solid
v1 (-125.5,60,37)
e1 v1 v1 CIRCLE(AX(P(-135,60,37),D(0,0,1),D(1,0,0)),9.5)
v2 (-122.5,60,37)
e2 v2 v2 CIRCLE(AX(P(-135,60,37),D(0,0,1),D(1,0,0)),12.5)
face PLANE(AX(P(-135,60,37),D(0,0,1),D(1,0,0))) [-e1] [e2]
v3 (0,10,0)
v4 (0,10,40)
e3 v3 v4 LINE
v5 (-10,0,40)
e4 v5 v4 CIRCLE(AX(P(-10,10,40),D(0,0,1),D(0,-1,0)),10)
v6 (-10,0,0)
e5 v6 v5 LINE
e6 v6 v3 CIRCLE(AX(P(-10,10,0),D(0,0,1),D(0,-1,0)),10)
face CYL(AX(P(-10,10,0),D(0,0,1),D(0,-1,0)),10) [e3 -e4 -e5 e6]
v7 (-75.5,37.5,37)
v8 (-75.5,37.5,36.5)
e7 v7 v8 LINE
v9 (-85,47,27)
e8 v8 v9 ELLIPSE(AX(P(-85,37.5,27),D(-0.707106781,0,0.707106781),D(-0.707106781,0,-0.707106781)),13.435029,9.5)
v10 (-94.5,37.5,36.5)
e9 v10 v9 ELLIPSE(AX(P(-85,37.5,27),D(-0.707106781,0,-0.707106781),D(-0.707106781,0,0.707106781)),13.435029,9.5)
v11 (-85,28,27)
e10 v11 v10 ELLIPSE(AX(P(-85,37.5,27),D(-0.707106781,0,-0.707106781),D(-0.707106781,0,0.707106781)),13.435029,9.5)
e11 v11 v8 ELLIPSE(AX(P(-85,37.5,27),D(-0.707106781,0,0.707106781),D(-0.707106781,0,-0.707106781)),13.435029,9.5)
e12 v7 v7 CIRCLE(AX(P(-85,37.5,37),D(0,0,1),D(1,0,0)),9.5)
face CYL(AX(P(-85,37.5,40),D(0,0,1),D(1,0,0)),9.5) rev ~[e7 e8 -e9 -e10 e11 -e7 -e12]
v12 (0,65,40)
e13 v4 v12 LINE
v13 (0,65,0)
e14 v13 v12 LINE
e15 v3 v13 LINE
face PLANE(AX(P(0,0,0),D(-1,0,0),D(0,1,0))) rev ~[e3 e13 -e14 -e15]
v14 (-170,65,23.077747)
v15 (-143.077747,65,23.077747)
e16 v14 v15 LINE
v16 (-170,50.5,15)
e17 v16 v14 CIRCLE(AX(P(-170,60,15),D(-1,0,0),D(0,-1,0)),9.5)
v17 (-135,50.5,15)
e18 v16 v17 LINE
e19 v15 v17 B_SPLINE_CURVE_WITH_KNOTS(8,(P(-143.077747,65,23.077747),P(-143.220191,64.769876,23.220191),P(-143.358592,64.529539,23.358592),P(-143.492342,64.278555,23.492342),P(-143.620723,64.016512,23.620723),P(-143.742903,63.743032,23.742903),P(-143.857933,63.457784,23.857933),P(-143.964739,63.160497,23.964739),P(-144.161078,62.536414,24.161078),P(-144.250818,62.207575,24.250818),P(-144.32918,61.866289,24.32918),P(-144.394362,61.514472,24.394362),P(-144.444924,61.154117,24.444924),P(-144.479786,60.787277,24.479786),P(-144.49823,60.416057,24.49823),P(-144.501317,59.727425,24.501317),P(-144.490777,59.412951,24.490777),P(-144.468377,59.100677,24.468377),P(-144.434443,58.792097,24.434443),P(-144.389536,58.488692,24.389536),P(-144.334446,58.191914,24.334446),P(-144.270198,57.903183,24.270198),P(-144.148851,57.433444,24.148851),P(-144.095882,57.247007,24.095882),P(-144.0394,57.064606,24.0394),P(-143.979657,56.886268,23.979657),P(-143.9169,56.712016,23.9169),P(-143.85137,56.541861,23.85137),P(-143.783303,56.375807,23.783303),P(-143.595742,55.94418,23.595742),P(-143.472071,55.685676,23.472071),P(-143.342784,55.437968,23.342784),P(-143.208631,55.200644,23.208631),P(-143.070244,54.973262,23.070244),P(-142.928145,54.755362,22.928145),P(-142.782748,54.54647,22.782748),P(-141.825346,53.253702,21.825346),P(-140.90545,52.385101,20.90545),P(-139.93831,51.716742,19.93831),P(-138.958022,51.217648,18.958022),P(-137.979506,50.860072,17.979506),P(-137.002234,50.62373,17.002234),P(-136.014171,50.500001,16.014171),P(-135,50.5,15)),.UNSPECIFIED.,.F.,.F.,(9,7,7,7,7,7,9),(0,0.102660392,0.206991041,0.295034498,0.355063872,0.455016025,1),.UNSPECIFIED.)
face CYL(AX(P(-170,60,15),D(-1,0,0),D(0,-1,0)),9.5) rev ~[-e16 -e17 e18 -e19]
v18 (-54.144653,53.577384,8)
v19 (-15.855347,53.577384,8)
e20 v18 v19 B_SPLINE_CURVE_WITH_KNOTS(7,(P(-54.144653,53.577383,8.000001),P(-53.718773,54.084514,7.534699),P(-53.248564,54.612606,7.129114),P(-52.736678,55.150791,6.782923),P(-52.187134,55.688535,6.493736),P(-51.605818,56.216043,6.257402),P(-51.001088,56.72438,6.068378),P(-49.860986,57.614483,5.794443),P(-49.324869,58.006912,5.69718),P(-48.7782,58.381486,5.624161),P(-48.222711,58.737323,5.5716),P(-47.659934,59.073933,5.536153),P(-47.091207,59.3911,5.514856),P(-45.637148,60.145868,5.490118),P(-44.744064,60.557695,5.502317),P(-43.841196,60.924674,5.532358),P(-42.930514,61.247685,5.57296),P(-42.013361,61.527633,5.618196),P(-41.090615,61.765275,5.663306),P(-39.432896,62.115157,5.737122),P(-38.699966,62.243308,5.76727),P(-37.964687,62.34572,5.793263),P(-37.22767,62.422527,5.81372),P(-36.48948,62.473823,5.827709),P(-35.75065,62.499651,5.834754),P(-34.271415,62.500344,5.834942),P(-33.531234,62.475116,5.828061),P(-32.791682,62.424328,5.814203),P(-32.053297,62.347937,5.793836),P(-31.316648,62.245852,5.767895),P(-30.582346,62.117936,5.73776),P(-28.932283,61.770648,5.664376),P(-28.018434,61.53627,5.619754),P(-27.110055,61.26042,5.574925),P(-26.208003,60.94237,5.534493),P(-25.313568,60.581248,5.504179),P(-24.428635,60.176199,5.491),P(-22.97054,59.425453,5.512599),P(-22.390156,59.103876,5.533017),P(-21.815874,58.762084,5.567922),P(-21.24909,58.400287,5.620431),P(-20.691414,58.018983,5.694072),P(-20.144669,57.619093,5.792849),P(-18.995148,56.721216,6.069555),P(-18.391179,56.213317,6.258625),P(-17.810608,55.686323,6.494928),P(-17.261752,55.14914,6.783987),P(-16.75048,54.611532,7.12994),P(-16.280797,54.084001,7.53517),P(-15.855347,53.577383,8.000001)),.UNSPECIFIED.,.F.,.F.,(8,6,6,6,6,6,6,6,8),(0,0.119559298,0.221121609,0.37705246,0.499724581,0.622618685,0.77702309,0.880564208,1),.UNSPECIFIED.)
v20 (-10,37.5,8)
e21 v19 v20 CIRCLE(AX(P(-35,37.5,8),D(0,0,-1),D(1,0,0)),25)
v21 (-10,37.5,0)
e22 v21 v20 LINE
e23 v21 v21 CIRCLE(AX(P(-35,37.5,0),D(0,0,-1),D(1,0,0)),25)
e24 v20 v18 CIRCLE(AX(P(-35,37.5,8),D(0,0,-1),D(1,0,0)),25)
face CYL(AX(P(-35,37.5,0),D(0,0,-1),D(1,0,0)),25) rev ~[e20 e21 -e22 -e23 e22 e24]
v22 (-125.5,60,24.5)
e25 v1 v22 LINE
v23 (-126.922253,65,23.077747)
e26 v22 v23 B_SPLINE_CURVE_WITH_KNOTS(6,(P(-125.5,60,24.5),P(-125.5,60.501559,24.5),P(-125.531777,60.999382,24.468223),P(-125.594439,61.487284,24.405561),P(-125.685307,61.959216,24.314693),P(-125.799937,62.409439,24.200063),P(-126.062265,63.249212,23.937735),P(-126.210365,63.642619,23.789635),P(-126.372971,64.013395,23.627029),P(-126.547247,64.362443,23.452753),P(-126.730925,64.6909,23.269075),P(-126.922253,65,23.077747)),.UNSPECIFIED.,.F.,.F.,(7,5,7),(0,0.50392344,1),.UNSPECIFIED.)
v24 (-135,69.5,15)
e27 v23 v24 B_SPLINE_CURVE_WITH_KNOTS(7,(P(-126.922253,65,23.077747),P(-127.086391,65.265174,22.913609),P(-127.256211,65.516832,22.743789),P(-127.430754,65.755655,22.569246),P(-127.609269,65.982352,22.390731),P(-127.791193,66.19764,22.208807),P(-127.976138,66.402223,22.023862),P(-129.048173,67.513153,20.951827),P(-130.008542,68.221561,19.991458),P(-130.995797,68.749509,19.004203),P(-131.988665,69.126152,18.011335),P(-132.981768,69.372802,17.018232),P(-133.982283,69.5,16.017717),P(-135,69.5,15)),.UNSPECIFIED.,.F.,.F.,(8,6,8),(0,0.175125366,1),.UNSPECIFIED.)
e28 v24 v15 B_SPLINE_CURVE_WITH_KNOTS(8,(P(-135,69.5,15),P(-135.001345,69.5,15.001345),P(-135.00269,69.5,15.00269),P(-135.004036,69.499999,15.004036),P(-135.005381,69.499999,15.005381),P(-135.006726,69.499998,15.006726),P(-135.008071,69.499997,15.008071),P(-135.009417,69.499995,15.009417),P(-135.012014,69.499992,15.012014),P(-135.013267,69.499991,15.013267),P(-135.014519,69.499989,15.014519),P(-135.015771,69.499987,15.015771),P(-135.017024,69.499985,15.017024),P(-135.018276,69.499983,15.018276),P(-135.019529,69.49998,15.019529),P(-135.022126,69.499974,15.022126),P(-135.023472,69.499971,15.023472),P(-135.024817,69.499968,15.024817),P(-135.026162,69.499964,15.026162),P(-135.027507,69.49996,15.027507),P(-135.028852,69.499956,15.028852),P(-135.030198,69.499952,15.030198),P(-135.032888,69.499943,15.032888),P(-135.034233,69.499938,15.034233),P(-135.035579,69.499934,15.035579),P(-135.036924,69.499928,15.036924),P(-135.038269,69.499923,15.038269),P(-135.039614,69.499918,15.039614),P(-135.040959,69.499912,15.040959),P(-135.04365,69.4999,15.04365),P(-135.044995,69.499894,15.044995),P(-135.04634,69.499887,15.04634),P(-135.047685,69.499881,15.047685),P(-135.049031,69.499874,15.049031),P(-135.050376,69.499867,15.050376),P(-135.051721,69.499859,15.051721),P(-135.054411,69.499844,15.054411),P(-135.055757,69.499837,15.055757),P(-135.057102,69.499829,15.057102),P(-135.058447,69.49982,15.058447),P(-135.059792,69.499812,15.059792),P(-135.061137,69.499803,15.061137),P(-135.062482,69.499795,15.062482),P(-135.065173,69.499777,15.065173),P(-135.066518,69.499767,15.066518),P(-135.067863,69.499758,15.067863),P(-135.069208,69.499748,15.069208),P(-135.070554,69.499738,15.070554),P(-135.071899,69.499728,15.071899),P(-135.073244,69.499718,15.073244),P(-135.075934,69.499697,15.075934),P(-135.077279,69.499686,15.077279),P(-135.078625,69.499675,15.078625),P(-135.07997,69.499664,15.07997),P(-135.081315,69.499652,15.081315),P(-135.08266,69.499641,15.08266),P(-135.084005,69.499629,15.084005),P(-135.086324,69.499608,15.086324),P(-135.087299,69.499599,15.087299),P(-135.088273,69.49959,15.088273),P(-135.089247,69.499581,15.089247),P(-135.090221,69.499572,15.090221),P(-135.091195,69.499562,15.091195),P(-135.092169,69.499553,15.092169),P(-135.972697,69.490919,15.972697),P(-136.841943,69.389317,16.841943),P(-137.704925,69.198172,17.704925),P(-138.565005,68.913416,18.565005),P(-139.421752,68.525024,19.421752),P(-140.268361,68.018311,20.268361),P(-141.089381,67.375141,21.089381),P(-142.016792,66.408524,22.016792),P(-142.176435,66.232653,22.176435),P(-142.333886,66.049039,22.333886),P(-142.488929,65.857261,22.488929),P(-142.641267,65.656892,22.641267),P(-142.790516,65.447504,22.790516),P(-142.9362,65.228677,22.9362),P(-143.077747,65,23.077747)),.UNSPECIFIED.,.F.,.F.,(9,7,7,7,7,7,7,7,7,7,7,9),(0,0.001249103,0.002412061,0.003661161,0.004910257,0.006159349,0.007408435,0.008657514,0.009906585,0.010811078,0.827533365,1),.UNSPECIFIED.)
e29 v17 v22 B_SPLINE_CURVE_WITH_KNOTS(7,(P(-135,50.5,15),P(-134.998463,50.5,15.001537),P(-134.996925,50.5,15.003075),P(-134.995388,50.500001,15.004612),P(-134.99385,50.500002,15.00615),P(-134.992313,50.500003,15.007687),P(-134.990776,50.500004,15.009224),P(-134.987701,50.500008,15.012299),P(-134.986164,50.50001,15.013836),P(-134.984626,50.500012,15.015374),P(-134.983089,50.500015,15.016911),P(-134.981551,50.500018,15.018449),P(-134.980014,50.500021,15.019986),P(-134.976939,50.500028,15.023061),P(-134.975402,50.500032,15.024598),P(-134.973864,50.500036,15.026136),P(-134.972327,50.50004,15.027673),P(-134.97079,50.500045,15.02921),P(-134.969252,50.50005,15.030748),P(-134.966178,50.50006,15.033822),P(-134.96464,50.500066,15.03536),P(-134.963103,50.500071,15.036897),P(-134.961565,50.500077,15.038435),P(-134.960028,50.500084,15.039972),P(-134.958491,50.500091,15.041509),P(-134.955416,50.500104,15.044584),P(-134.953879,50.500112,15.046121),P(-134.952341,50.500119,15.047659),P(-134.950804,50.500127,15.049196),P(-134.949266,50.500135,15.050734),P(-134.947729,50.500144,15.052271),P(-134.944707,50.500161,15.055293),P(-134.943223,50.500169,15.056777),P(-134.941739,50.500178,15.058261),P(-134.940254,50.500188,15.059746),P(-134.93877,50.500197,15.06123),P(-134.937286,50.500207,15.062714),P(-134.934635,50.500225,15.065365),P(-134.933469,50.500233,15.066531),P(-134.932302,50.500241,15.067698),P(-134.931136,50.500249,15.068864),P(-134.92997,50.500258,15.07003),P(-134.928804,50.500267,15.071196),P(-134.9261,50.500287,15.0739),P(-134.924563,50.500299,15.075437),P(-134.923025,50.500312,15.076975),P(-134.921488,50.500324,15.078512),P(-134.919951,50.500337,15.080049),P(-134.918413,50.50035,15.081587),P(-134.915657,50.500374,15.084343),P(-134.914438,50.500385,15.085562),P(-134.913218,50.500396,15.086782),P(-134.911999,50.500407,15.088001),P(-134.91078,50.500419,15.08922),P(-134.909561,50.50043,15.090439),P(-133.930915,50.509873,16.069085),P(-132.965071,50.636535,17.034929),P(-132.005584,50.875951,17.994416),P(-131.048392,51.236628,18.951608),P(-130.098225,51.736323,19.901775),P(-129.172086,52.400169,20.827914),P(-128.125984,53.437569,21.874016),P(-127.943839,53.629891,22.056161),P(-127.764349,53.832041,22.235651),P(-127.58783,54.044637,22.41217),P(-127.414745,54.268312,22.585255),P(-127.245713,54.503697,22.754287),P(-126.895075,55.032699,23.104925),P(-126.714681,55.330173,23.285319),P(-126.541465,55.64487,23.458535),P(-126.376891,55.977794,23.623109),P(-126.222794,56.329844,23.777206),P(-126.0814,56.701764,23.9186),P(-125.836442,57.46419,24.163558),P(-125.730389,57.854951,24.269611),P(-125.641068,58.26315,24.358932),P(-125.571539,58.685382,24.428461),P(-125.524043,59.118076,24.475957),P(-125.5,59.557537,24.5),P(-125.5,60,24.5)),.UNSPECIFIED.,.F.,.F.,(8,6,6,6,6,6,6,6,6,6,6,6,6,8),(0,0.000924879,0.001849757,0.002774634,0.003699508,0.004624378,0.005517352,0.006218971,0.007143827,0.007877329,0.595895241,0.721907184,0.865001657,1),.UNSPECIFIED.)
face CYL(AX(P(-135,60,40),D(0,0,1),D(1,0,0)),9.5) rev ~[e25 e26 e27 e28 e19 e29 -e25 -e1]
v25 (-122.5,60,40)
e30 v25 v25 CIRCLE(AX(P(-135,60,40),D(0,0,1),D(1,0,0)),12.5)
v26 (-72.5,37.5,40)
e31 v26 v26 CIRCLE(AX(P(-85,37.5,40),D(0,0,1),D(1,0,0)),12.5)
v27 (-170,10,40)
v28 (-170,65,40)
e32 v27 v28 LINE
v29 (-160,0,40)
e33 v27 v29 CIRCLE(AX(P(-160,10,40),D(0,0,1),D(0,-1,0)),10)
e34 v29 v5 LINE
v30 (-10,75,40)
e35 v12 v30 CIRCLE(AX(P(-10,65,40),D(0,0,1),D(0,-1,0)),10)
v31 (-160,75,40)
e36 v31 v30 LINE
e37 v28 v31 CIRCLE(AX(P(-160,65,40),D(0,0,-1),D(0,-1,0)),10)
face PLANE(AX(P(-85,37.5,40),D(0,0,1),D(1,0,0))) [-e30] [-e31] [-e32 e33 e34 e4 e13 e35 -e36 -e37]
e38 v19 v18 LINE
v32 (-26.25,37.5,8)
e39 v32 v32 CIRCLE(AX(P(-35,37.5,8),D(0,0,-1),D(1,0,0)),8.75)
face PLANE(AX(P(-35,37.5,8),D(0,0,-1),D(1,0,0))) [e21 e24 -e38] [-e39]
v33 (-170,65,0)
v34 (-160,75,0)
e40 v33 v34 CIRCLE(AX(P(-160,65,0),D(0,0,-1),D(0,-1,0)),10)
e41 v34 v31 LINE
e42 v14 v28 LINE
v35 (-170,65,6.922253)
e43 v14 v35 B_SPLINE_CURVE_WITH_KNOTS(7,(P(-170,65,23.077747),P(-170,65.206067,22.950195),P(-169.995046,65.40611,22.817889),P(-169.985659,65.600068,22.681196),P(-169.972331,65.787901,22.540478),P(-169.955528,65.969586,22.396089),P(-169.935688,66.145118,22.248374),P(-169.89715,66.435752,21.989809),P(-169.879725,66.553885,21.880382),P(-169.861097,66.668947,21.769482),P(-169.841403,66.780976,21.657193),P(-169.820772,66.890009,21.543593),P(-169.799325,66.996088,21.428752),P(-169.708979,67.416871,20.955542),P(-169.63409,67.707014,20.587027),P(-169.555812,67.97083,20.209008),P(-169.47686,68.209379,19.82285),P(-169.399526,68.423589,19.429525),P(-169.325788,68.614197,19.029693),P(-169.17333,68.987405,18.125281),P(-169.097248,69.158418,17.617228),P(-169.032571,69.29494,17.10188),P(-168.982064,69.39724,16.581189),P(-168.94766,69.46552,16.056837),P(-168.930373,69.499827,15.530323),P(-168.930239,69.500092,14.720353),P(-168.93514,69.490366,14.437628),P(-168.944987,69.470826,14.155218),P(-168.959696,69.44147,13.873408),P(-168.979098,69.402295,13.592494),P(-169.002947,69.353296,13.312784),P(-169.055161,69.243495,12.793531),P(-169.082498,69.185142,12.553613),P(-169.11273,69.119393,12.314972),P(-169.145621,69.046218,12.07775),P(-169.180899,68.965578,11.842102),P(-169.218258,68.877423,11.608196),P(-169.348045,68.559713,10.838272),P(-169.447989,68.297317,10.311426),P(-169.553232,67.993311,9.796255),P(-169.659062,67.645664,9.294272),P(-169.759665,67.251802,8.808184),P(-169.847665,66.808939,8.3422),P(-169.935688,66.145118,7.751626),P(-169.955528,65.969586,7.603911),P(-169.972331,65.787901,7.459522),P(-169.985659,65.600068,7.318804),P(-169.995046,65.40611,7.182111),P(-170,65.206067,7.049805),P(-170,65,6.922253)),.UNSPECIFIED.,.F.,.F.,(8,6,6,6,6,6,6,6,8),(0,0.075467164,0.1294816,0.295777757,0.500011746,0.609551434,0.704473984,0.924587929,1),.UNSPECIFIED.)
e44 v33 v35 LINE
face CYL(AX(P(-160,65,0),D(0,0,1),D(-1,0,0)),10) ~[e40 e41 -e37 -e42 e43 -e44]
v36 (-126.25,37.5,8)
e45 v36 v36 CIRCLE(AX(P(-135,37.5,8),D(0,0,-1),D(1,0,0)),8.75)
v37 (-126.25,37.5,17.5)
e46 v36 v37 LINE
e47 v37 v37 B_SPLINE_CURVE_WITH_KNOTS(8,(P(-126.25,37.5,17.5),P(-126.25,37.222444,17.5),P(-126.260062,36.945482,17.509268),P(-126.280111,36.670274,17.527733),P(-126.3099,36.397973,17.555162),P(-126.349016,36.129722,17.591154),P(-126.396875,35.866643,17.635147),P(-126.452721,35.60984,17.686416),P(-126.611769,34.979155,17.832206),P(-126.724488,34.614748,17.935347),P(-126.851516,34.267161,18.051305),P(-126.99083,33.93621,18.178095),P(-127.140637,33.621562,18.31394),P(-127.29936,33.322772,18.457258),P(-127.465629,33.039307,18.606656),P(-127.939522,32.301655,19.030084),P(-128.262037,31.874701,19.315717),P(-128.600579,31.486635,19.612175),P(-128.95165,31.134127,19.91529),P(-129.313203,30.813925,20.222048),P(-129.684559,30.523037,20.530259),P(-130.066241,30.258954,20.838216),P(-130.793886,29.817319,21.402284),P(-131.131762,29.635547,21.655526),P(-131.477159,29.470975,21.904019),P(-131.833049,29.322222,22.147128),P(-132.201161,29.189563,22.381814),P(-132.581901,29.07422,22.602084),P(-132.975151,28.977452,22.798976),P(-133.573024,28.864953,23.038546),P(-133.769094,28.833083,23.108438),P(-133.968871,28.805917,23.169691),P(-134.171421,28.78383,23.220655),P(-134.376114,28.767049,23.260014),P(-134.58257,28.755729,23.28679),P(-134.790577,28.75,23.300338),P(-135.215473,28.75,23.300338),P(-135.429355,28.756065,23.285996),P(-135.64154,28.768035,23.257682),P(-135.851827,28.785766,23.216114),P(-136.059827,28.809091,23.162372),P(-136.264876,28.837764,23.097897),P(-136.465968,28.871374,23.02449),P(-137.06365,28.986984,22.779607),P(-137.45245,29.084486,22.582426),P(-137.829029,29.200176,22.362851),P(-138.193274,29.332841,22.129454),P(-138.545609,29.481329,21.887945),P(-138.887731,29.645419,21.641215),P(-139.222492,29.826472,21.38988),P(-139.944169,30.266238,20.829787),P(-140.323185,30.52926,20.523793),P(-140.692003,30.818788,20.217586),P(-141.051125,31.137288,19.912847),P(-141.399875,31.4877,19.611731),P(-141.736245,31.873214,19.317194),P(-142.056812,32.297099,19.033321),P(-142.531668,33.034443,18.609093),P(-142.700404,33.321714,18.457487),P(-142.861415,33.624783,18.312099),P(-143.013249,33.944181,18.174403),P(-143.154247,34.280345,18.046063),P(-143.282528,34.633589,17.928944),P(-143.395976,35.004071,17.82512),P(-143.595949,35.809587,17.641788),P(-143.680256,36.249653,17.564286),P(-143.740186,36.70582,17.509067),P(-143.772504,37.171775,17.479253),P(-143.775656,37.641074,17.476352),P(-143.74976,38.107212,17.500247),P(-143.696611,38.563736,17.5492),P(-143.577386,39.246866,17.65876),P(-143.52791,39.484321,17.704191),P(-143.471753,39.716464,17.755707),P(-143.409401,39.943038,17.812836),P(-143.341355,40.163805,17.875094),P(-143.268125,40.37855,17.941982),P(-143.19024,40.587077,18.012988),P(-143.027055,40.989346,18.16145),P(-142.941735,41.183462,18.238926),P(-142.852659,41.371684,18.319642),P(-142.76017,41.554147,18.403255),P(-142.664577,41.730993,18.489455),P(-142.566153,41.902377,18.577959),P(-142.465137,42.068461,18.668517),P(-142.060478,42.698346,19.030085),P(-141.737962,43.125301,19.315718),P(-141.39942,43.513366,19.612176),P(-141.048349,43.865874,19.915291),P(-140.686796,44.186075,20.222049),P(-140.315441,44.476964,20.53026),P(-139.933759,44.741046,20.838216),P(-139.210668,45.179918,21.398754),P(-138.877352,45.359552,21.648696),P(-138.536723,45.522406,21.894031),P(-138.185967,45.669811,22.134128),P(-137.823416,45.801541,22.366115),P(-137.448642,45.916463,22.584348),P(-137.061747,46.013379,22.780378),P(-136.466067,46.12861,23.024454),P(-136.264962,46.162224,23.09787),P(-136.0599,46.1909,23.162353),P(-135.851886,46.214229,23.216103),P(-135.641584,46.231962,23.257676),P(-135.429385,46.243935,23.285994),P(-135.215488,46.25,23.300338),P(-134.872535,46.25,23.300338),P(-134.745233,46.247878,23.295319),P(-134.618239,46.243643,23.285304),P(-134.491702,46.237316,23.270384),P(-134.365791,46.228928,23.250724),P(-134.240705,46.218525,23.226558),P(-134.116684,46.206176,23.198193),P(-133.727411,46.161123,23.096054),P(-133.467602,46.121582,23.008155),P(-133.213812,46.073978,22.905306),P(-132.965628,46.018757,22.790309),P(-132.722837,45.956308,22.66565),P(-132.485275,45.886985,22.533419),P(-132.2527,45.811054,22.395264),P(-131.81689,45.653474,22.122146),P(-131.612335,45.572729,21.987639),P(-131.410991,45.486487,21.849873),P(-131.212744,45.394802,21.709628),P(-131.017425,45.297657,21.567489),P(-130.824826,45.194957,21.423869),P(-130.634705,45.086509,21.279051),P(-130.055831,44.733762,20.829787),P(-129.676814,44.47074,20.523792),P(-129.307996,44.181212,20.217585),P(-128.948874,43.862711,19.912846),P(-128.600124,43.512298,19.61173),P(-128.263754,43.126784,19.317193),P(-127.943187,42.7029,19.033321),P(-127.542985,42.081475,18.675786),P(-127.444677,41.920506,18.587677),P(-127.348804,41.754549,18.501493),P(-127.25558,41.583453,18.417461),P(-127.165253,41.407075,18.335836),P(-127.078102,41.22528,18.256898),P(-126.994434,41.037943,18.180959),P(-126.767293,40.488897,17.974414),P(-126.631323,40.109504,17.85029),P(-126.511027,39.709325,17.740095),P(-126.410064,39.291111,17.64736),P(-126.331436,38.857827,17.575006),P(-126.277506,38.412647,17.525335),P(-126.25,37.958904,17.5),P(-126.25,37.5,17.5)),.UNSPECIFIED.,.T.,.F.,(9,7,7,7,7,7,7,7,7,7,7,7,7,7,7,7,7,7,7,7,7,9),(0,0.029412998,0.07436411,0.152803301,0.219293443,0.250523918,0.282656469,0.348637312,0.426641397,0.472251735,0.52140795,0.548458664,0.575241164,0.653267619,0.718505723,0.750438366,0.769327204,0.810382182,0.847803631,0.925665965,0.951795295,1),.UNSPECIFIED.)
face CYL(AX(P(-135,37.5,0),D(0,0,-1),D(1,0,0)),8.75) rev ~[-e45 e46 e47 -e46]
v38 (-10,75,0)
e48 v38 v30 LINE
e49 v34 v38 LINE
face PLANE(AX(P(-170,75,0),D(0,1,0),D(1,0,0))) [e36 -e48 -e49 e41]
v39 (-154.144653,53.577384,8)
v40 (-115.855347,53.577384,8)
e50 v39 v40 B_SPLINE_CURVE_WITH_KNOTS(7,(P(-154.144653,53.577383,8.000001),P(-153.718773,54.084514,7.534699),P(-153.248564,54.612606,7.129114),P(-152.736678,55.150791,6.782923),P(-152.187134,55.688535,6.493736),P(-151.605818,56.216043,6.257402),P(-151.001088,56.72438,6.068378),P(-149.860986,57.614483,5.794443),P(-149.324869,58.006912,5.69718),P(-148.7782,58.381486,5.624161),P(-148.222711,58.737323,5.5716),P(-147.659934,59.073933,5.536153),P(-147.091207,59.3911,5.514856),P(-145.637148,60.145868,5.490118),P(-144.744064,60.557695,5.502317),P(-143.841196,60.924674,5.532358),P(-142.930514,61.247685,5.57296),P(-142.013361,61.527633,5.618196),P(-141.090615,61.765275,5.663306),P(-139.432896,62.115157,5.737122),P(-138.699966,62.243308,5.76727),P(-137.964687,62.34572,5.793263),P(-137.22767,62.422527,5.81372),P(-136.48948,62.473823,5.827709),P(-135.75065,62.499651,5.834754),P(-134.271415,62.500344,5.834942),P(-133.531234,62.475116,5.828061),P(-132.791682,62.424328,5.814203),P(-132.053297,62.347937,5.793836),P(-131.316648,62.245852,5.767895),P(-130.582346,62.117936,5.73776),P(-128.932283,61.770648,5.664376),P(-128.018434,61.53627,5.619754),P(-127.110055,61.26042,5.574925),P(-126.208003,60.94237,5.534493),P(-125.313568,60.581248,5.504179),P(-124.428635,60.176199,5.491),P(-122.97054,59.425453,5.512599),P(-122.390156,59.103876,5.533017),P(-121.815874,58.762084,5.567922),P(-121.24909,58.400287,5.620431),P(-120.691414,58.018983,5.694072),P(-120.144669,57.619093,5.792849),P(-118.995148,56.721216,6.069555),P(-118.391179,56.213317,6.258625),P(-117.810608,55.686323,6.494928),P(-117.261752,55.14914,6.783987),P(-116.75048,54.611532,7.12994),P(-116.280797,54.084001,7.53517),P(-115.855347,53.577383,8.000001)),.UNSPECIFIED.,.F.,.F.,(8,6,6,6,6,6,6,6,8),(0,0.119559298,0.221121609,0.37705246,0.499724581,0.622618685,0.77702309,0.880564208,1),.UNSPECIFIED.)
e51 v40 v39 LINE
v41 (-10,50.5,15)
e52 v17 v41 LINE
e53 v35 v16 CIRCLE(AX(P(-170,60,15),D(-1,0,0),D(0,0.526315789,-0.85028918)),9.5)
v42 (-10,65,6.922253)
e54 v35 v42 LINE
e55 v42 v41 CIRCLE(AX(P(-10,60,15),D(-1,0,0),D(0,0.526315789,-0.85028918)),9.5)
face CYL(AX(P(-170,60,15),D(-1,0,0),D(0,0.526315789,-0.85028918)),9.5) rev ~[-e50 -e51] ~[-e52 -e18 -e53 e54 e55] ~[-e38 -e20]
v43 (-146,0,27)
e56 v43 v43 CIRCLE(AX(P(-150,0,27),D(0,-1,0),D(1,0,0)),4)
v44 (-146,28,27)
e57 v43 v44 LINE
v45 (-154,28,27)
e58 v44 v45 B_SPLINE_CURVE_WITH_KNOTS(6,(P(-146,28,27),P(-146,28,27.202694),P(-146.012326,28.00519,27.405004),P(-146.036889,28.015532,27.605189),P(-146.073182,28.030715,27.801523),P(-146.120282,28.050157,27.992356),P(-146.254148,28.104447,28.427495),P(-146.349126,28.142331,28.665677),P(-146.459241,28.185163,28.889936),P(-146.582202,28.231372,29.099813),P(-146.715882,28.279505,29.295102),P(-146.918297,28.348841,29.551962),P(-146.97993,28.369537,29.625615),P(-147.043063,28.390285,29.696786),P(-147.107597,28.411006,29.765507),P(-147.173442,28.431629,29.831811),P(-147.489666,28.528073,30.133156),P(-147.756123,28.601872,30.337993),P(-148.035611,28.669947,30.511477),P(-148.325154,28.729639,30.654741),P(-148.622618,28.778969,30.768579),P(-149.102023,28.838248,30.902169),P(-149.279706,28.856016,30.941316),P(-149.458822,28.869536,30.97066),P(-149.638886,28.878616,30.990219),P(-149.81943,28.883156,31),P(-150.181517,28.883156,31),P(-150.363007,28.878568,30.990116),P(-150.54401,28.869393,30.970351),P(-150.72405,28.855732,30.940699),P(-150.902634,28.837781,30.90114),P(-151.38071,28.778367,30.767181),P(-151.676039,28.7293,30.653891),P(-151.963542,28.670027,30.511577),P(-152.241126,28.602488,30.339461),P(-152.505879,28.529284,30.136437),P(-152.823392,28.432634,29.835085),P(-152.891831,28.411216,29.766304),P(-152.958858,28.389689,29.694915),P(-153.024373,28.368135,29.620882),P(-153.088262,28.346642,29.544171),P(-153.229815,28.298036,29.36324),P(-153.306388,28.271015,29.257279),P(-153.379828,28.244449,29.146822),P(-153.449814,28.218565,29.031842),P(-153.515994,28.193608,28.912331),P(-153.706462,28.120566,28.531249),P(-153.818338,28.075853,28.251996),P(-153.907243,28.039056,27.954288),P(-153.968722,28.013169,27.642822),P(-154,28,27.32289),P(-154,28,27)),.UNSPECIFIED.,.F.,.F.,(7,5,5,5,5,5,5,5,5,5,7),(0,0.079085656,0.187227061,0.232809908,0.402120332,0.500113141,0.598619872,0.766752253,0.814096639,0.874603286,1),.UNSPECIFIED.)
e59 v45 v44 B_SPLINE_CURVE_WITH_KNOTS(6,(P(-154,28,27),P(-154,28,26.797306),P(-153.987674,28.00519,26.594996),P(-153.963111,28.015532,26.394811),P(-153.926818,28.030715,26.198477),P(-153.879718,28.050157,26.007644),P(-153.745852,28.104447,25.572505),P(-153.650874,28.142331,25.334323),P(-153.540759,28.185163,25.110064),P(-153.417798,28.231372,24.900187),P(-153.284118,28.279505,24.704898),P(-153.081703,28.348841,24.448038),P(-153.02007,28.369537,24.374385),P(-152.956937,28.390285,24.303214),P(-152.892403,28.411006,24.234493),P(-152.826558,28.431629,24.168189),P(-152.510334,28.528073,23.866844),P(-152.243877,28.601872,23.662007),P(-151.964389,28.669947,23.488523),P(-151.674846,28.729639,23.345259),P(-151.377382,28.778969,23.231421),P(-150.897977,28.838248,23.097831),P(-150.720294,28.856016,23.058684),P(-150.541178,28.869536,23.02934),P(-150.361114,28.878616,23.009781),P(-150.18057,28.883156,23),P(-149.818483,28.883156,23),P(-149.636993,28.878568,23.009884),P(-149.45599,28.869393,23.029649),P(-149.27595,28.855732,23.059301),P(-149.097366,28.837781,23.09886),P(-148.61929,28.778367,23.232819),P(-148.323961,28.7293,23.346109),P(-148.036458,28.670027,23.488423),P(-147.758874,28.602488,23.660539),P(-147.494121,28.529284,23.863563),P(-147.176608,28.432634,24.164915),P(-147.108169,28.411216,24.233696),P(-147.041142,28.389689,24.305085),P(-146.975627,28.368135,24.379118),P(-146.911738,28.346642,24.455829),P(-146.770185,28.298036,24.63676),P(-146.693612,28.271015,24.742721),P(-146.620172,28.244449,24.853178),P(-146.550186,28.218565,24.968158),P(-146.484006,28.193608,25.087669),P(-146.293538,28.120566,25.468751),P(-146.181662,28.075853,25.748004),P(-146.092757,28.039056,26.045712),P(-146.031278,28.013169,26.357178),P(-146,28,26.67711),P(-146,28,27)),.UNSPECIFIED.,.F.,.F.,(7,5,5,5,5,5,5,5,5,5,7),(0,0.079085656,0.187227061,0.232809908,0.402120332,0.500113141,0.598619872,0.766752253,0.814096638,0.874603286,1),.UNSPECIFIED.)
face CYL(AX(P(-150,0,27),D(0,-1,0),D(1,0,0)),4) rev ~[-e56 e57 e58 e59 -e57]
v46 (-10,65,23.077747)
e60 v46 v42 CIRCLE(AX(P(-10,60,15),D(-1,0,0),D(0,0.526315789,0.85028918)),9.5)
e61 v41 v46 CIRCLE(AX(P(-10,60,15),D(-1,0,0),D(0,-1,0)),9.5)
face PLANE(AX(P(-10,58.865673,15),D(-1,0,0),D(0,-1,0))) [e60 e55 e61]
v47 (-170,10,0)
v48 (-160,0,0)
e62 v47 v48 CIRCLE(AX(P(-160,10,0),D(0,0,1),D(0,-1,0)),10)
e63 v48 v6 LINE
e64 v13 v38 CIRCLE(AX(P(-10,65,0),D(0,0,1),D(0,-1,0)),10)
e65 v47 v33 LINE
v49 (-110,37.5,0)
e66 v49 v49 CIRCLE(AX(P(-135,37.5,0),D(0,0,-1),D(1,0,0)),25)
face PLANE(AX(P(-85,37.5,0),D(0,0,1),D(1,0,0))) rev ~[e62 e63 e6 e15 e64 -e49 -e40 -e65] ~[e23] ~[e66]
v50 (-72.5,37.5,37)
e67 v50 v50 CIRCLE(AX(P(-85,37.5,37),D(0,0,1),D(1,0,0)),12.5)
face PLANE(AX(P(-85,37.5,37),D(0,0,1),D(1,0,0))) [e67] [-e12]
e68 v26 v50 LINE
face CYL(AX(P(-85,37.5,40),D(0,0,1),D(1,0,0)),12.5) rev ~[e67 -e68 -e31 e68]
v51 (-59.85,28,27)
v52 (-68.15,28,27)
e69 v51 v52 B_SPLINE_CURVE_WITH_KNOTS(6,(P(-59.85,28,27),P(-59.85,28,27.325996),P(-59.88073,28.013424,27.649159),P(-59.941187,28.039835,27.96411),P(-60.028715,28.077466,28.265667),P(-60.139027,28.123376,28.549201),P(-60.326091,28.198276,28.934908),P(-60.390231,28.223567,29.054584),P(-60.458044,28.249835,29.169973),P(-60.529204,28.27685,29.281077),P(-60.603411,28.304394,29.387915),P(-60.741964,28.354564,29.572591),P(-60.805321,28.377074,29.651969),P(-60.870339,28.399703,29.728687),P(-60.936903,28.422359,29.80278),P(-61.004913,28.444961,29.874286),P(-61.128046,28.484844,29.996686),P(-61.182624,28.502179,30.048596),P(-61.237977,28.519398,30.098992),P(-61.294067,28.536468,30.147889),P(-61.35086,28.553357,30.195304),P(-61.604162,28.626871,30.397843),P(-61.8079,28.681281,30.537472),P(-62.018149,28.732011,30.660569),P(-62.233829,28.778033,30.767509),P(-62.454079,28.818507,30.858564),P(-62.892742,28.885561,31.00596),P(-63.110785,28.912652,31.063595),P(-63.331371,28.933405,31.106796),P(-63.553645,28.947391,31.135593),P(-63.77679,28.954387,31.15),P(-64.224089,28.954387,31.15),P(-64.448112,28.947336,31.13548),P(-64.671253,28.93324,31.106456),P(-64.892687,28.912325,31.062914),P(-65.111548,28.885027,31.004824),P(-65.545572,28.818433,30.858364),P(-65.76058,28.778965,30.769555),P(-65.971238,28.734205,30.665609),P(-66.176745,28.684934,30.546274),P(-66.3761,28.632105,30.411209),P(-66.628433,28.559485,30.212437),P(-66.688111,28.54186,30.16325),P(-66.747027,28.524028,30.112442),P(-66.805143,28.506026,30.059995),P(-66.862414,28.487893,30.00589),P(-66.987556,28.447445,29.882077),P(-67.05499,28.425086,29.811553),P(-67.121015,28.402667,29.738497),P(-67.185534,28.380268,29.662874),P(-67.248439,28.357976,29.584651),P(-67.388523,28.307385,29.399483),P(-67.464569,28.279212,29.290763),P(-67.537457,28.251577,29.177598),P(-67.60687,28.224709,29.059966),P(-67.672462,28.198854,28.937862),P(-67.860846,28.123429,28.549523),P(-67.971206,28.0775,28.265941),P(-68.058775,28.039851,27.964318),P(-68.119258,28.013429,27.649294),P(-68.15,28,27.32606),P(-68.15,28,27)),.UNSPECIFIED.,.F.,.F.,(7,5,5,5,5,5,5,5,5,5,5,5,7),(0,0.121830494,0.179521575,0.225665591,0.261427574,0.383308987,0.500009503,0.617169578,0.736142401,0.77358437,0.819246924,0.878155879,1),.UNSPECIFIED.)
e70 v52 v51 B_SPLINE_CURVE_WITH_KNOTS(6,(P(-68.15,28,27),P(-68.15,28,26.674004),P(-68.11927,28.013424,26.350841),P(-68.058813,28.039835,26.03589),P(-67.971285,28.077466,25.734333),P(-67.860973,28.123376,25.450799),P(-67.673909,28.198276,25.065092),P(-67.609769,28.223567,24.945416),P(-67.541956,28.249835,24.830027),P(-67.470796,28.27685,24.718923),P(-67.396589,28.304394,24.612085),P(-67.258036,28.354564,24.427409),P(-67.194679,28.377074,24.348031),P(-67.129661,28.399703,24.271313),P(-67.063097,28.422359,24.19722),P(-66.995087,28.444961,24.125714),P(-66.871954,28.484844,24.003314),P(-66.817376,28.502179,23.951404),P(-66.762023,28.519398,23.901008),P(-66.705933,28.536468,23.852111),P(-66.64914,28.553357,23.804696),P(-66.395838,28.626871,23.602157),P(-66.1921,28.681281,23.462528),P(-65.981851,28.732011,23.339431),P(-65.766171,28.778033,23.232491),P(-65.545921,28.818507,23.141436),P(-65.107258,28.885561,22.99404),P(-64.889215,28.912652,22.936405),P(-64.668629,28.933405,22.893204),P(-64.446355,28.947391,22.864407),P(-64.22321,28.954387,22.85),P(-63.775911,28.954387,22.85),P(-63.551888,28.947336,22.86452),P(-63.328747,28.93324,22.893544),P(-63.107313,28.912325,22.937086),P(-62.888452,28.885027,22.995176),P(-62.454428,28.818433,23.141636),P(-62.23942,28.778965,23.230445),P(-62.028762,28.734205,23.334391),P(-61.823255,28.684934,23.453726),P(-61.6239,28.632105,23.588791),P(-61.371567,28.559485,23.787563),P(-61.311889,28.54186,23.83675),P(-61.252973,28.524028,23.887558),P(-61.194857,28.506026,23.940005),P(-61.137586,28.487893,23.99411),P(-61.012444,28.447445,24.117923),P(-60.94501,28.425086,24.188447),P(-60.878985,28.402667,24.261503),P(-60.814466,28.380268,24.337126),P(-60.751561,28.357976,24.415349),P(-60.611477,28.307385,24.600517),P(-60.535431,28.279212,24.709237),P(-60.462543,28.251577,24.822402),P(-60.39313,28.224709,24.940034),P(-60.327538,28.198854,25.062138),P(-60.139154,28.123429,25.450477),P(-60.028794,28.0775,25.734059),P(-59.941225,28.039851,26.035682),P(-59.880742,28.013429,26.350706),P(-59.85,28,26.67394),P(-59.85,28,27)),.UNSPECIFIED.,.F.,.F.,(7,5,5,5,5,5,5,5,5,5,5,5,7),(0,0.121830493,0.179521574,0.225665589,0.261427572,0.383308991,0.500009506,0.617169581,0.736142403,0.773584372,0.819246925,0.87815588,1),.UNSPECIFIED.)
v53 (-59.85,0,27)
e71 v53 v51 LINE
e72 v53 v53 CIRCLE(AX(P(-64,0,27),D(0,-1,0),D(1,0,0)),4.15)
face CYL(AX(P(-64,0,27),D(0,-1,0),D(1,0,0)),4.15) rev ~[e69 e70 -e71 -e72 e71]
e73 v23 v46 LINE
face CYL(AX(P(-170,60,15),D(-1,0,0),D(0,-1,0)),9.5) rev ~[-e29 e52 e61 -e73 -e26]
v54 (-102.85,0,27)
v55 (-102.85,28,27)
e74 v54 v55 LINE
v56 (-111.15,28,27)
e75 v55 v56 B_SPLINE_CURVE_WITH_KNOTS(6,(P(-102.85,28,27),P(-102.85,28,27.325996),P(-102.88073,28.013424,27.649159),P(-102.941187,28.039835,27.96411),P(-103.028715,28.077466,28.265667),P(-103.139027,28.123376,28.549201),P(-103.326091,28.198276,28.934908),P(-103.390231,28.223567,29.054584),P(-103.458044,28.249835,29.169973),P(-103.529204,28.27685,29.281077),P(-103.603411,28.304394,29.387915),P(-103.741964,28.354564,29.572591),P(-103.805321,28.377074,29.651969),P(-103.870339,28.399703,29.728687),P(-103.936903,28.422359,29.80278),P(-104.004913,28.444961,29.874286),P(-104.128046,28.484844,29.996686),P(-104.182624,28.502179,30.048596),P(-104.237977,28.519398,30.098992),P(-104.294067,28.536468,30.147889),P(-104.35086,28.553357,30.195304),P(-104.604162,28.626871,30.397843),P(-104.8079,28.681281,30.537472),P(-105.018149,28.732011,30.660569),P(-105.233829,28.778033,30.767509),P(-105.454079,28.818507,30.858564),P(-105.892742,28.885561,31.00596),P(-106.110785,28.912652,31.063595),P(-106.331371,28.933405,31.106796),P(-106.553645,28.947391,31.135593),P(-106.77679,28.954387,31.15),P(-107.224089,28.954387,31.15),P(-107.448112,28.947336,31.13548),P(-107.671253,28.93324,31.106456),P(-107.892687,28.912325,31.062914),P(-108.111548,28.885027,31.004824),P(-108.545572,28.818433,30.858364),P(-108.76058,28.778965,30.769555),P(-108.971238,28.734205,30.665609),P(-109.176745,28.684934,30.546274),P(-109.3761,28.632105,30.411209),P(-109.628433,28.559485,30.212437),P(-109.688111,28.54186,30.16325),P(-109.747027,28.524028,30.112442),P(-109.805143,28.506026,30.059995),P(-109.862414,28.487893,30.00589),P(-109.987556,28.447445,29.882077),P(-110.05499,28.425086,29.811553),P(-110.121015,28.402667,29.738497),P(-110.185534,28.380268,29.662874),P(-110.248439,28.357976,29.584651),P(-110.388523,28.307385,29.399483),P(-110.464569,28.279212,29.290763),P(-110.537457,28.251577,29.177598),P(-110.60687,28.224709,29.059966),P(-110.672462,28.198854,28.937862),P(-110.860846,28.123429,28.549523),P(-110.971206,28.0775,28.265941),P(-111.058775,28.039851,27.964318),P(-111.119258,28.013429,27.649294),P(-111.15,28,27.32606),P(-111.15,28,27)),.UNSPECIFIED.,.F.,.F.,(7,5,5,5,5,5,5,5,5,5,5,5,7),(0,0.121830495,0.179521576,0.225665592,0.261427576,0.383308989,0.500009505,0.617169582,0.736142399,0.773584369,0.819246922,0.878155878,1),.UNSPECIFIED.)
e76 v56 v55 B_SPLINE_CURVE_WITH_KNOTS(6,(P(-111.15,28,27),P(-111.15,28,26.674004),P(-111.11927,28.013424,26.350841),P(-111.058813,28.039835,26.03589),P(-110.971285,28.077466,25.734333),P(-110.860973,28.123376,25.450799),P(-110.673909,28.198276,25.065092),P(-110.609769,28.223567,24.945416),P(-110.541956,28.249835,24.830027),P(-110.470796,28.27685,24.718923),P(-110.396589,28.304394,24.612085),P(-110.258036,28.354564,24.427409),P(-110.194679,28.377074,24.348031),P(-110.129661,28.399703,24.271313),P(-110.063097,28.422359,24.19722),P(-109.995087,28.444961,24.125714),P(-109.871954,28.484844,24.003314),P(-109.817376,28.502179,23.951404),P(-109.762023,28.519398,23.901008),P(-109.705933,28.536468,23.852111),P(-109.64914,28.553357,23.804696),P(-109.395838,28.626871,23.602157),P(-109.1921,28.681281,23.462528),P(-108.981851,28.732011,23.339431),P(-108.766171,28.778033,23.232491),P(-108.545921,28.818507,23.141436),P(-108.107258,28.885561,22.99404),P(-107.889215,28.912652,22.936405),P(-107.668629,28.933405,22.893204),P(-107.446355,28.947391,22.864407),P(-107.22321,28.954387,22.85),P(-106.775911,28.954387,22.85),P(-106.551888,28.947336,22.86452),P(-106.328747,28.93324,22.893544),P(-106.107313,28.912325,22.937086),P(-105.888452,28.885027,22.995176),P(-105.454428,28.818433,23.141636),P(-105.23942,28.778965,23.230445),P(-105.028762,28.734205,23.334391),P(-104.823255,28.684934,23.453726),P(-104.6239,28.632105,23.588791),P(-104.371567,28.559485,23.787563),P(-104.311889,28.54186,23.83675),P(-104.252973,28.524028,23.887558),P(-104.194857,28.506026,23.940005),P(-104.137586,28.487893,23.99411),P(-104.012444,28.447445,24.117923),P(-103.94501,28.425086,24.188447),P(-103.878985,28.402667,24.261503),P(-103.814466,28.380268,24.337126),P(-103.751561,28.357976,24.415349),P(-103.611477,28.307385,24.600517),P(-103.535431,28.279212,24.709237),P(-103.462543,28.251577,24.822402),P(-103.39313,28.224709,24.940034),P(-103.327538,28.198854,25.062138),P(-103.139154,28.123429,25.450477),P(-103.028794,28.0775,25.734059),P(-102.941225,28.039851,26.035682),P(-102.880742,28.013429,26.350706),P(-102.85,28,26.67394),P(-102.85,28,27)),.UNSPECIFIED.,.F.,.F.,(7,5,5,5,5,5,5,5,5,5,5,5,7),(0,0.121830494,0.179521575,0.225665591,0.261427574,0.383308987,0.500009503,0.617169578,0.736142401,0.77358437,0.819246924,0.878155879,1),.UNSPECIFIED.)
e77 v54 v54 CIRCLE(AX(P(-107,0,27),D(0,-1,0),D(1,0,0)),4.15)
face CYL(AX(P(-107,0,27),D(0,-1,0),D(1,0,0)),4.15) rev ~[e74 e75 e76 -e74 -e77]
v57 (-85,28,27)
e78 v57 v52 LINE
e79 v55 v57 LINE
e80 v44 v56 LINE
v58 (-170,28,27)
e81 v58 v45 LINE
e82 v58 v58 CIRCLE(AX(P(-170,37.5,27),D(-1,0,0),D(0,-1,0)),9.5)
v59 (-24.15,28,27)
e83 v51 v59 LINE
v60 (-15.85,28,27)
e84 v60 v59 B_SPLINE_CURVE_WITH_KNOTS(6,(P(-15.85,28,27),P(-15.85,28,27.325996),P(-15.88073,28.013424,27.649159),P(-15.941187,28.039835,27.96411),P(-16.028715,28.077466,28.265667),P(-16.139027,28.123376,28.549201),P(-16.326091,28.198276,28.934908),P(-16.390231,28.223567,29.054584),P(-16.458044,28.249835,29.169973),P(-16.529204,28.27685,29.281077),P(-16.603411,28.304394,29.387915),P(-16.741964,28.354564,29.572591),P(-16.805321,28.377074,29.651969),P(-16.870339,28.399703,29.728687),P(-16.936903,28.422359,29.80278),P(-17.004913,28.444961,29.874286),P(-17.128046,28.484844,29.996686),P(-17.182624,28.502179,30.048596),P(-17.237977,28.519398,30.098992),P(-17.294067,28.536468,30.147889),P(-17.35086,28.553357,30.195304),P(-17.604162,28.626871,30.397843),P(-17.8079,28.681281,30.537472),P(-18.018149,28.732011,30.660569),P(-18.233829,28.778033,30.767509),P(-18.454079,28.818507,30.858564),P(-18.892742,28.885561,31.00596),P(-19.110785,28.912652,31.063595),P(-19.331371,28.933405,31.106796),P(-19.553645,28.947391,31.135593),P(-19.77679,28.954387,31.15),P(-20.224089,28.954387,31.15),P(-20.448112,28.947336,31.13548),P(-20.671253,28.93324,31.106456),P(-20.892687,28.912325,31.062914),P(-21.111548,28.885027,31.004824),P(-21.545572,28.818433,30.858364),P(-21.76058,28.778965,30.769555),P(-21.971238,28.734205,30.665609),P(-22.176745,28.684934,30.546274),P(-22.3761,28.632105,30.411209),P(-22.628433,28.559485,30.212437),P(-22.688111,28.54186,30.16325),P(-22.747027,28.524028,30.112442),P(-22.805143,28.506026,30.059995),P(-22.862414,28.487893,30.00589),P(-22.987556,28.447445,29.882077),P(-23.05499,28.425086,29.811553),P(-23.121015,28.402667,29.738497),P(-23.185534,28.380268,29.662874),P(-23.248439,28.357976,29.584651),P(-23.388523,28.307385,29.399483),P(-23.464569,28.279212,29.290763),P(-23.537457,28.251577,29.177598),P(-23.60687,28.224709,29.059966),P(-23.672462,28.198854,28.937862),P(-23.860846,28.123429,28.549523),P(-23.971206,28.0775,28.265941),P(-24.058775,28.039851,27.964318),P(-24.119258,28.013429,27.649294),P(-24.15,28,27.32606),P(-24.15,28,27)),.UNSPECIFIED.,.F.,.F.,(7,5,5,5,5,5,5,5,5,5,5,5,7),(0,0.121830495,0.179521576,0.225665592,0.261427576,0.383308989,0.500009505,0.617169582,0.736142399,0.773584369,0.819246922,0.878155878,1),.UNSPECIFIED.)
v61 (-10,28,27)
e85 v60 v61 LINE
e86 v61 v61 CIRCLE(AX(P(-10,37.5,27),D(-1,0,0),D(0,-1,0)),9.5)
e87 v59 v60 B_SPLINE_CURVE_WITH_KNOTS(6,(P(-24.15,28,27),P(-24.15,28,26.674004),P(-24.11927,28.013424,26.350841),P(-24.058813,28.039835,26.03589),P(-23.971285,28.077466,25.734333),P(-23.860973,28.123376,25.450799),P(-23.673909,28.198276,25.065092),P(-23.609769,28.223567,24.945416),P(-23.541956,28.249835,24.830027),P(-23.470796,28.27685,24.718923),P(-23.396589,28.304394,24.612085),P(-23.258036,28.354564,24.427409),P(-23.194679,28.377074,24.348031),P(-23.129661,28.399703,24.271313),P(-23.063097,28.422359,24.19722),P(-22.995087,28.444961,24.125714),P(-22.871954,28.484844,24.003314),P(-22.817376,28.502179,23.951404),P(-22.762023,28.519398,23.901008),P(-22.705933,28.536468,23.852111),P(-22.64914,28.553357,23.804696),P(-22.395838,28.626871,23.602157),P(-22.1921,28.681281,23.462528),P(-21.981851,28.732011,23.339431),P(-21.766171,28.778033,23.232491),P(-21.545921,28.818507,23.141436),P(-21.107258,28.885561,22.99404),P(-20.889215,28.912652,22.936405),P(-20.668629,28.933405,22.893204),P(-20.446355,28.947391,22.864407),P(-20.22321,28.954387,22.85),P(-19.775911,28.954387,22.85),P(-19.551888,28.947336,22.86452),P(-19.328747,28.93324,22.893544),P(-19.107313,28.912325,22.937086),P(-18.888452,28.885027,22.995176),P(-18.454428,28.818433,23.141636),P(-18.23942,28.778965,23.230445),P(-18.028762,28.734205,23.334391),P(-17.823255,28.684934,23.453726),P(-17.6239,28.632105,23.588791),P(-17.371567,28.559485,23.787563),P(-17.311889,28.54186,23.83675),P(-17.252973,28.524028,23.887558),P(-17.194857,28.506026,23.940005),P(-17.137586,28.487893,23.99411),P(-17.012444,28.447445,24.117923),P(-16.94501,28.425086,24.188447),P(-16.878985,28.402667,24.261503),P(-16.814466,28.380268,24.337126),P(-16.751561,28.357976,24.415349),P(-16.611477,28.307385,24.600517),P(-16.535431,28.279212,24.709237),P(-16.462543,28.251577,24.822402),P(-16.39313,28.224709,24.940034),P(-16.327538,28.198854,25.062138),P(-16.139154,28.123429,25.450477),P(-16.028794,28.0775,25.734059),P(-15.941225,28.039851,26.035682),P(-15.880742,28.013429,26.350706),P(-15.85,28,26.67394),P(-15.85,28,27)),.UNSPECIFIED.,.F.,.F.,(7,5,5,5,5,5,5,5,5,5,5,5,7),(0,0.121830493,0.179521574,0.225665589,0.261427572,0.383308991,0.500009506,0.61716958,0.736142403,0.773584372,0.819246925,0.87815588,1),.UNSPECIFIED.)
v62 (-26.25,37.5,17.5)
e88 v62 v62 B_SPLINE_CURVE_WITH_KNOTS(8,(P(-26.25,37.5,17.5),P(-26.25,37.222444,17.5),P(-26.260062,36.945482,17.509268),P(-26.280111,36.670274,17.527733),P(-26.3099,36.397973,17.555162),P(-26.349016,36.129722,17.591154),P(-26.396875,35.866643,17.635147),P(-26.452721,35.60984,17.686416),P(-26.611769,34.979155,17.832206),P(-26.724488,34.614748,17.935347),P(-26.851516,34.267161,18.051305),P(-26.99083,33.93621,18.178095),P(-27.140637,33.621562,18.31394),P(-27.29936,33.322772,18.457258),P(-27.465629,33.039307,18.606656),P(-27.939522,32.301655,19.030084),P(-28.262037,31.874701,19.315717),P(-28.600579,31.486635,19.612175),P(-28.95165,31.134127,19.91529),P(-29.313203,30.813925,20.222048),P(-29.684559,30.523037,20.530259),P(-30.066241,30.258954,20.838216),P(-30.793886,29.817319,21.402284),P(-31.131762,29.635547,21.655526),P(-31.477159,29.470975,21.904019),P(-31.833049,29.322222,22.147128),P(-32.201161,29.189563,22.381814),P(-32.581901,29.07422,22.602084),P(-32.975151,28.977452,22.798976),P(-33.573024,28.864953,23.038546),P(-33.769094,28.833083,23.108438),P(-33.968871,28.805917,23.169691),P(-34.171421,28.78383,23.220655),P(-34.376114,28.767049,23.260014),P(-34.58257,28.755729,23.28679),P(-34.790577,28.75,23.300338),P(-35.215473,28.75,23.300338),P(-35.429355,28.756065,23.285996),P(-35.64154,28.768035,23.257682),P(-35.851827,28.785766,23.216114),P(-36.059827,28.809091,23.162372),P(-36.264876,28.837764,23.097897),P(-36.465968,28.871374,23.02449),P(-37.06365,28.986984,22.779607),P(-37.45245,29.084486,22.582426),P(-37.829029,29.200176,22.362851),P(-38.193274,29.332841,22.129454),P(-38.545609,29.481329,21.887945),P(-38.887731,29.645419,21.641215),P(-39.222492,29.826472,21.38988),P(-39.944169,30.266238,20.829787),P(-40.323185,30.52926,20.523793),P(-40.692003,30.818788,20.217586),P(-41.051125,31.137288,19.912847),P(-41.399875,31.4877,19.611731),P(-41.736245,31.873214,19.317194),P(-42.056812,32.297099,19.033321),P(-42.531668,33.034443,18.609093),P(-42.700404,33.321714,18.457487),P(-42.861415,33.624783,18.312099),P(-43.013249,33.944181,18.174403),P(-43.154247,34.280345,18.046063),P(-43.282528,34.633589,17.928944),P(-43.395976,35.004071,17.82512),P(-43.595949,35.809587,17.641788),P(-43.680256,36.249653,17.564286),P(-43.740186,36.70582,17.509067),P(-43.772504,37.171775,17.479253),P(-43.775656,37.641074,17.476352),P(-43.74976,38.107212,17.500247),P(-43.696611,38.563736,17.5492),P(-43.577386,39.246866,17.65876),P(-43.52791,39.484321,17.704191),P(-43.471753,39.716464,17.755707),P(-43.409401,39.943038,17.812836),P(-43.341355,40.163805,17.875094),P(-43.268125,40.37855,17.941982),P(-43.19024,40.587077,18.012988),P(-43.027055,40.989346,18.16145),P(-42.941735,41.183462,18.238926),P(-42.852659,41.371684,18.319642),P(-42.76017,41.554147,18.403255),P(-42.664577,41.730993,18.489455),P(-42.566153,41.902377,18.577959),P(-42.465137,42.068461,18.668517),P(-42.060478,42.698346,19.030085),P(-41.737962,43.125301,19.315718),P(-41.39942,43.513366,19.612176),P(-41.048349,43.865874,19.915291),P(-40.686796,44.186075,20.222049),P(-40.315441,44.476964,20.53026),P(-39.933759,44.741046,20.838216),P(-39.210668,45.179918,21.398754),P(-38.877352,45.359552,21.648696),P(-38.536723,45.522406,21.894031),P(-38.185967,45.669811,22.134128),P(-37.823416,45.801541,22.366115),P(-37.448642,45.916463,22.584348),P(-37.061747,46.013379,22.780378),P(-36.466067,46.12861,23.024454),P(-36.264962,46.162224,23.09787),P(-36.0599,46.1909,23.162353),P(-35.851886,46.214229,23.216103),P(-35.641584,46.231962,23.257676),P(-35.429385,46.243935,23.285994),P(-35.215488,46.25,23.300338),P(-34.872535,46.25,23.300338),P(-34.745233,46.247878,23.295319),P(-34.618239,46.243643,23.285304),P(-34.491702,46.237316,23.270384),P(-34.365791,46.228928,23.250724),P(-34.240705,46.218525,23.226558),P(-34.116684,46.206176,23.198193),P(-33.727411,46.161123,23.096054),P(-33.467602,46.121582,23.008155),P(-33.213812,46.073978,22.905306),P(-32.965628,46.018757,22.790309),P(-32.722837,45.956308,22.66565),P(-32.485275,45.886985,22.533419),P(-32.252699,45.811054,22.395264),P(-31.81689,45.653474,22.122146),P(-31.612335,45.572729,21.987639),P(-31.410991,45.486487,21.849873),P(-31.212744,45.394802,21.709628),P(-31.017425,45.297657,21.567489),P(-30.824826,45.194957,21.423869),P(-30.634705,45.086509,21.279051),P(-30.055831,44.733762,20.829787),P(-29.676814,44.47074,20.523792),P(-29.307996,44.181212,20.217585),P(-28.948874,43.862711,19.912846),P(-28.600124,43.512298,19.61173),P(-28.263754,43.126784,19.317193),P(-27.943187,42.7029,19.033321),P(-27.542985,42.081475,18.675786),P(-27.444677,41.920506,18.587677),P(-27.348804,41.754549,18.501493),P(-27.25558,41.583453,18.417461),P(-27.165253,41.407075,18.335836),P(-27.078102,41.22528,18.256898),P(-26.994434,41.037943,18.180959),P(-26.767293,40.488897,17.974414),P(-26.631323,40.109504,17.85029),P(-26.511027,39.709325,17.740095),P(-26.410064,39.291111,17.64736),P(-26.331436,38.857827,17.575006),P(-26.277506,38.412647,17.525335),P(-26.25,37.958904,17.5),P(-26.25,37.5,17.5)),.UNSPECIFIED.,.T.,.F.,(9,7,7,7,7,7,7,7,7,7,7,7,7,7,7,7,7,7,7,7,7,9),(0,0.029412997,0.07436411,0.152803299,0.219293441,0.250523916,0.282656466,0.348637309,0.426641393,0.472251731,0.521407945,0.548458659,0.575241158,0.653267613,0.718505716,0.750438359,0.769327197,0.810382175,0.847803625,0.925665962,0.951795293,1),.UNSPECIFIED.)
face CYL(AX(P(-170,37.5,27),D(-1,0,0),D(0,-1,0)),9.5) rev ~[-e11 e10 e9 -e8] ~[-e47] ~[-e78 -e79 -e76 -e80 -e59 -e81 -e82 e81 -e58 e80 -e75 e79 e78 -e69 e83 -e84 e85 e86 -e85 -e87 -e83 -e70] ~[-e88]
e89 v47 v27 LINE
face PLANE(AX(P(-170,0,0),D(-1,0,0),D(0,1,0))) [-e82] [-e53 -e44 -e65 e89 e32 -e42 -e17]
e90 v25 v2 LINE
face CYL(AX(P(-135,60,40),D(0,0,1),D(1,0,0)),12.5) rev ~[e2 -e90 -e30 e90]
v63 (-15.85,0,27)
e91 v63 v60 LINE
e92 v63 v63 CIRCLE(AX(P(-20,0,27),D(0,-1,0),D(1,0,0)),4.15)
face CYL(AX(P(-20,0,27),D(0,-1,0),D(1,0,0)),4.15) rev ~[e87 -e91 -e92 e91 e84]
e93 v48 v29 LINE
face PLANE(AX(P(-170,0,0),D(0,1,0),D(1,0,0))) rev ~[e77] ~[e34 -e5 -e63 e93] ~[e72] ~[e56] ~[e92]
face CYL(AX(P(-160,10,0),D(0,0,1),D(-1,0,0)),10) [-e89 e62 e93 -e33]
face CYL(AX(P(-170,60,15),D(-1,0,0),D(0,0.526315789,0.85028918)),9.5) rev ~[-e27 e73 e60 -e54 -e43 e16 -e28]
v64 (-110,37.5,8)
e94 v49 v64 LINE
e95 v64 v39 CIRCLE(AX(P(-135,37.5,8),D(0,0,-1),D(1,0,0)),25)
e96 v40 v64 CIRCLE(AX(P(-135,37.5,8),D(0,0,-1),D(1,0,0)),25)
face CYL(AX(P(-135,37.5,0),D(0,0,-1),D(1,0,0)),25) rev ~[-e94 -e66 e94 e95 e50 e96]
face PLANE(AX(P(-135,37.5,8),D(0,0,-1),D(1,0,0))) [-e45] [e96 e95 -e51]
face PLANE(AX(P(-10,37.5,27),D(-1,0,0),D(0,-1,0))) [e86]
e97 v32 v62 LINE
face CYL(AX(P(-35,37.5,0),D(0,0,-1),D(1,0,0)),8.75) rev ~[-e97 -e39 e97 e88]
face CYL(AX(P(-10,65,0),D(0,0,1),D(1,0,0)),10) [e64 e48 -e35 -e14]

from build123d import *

# Parameters (mm, degrees)
F0_W      = 170
F0_H      = 75
F1_DEPTH  = 40
F2_R      = 10
F3_R      = 25
F3_R_2    = 8.75
F6_DEPTH  = 8
F7_DEPTH  = 27
F4_R      = 9.5
F8_DEPTH  = 160
F5_R      = 12.5
F5_R_2    = 9.5
F9_DEPTH  = 3
F10_DEPTH = 13
F11_DEPTH = 25
F12_R     = 4
F12_R_2   = 4.15
F13_DEPTH = 35


with BuildPart() as f1:
    # F0 (on Top) → F1 (new body)
    with BuildSketch(Plane.XY):
        with Locations((-85, 37.5)):
            Rectangle(F0_W, F0_H)
    extrude(amount=F1_DEPTH)

    # F2
    f2_edges = [f1.edges().sort_by_distance(p)[0] for p in [
        (0, 0, 20),
        (0, 75, 20),
        (-170, 0, 20),
        (-170, 75, 20),
    ]]
    fillet(f2_edges, radius=F2_R)

    # F3 (on face) → F6 (cut)
    with BuildSketch(Plane(origin=(0, 0, 0), x_dir=(1, 0, 0), z_dir=(0, 0, -1))):
        with Locations((-135, -37.5)):
            Circle(F3_R)
        with Locations((-135, -37.5)):
            Circle(F3_R_2, mode=Mode.SUBTRACT)
        with Locations((-35, -37.5)):
            Circle(F3_R)
        with Locations((-35, -37.5)):
            Circle(F3_R_2, mode=Mode.SUBTRACT)
    extrude(amount=-F6_DEPTH, mode=Mode.SUBTRACT)

    # F7 (cut): faces of the model
    f7_faces = [f1.faces().sort_by_distance(p)[0] for p in [
        (-135, 37.5, 0),
        (-35, 37.5, 0),
    ]]
    extrude(f7_faces, amount=-F7_DEPTH, mode=Mode.SUBTRACT)

    # F4 (on face) → F8 (cut)
    with BuildSketch(Plane(origin=(-170, 0, 0), x_dir=(0, -1, 0), z_dir=(-1, 0, 0))):
        with Locations((-37.5, 27)):
            Circle(F4_R)
        with BuildLine():
            ThreePointArc((-65, 6.9222527893), (-55.3766894978, 6.7009036637), (-50.5, 15))
            ThreePointArc((-50.5, 15), (-55.3766894978, 23.2990963363), (-65, 23.0777472107))
            Line((-65, 23.0777472107), (-65, 6.9222527893))
        make_face()
        with BuildLine():
            Line((-65, 6.9222527893), (-65, 23.0777472107))
            ThreePointArc((-65, 23.0777472107), (-69.5, 15), (-65, 6.9222527893))
        make_face()
    extrude(amount=-F8_DEPTH, mode=Mode.SUBTRACT)

    # F5 (on face) → F9 (cut)
    with BuildSketch(Plane.XY.offset(40)):
        with Locations((-135, 60)):
            Circle(F5_R)
        with Locations((-135, 60)):
            Circle(F5_R_2, mode=Mode.SUBTRACT)
        with Locations((-85, 37.5)):
            Circle(F5_R)
        with Locations((-85, 37.5)):
            Circle(F5_R_2, mode=Mode.SUBTRACT)
    extrude(amount=-F9_DEPTH, mode=Mode.SUBTRACT)

    # F10 (cut): a face of the model
    f10_faces = [f1.faces().sort_by_distance(p)[0] for p in [
        (-85, 37.5, 40),
    ]]
    extrude(f10_faces, amount=-F10_DEPTH, mode=Mode.SUBTRACT)

    # F11 (cut): a face of the model
    f11_faces = [f1.faces().sort_by_distance(p)[0] for p in [
        (-135, 60, 40),
    ]]
    extrude(f11_faces, amount=-F11_DEPTH, mode=Mode.SUBTRACT)

    # F12 (on face) → F13 (cut)
    with BuildSketch(Plane.XZ):
        with Locations((-150, 27)):
            Circle(F12_R)
        with Locations((-107, 27)):
            Circle(F12_R_2)
        with Locations((-64, 27)):
            Circle(F12_R_2)
        with Locations((-20, 27)):
            Circle(F12_R_2)
    extrude(amount=-F13_DEPTH, mode=Mode.SUBTRACT)


solid = f1.part
